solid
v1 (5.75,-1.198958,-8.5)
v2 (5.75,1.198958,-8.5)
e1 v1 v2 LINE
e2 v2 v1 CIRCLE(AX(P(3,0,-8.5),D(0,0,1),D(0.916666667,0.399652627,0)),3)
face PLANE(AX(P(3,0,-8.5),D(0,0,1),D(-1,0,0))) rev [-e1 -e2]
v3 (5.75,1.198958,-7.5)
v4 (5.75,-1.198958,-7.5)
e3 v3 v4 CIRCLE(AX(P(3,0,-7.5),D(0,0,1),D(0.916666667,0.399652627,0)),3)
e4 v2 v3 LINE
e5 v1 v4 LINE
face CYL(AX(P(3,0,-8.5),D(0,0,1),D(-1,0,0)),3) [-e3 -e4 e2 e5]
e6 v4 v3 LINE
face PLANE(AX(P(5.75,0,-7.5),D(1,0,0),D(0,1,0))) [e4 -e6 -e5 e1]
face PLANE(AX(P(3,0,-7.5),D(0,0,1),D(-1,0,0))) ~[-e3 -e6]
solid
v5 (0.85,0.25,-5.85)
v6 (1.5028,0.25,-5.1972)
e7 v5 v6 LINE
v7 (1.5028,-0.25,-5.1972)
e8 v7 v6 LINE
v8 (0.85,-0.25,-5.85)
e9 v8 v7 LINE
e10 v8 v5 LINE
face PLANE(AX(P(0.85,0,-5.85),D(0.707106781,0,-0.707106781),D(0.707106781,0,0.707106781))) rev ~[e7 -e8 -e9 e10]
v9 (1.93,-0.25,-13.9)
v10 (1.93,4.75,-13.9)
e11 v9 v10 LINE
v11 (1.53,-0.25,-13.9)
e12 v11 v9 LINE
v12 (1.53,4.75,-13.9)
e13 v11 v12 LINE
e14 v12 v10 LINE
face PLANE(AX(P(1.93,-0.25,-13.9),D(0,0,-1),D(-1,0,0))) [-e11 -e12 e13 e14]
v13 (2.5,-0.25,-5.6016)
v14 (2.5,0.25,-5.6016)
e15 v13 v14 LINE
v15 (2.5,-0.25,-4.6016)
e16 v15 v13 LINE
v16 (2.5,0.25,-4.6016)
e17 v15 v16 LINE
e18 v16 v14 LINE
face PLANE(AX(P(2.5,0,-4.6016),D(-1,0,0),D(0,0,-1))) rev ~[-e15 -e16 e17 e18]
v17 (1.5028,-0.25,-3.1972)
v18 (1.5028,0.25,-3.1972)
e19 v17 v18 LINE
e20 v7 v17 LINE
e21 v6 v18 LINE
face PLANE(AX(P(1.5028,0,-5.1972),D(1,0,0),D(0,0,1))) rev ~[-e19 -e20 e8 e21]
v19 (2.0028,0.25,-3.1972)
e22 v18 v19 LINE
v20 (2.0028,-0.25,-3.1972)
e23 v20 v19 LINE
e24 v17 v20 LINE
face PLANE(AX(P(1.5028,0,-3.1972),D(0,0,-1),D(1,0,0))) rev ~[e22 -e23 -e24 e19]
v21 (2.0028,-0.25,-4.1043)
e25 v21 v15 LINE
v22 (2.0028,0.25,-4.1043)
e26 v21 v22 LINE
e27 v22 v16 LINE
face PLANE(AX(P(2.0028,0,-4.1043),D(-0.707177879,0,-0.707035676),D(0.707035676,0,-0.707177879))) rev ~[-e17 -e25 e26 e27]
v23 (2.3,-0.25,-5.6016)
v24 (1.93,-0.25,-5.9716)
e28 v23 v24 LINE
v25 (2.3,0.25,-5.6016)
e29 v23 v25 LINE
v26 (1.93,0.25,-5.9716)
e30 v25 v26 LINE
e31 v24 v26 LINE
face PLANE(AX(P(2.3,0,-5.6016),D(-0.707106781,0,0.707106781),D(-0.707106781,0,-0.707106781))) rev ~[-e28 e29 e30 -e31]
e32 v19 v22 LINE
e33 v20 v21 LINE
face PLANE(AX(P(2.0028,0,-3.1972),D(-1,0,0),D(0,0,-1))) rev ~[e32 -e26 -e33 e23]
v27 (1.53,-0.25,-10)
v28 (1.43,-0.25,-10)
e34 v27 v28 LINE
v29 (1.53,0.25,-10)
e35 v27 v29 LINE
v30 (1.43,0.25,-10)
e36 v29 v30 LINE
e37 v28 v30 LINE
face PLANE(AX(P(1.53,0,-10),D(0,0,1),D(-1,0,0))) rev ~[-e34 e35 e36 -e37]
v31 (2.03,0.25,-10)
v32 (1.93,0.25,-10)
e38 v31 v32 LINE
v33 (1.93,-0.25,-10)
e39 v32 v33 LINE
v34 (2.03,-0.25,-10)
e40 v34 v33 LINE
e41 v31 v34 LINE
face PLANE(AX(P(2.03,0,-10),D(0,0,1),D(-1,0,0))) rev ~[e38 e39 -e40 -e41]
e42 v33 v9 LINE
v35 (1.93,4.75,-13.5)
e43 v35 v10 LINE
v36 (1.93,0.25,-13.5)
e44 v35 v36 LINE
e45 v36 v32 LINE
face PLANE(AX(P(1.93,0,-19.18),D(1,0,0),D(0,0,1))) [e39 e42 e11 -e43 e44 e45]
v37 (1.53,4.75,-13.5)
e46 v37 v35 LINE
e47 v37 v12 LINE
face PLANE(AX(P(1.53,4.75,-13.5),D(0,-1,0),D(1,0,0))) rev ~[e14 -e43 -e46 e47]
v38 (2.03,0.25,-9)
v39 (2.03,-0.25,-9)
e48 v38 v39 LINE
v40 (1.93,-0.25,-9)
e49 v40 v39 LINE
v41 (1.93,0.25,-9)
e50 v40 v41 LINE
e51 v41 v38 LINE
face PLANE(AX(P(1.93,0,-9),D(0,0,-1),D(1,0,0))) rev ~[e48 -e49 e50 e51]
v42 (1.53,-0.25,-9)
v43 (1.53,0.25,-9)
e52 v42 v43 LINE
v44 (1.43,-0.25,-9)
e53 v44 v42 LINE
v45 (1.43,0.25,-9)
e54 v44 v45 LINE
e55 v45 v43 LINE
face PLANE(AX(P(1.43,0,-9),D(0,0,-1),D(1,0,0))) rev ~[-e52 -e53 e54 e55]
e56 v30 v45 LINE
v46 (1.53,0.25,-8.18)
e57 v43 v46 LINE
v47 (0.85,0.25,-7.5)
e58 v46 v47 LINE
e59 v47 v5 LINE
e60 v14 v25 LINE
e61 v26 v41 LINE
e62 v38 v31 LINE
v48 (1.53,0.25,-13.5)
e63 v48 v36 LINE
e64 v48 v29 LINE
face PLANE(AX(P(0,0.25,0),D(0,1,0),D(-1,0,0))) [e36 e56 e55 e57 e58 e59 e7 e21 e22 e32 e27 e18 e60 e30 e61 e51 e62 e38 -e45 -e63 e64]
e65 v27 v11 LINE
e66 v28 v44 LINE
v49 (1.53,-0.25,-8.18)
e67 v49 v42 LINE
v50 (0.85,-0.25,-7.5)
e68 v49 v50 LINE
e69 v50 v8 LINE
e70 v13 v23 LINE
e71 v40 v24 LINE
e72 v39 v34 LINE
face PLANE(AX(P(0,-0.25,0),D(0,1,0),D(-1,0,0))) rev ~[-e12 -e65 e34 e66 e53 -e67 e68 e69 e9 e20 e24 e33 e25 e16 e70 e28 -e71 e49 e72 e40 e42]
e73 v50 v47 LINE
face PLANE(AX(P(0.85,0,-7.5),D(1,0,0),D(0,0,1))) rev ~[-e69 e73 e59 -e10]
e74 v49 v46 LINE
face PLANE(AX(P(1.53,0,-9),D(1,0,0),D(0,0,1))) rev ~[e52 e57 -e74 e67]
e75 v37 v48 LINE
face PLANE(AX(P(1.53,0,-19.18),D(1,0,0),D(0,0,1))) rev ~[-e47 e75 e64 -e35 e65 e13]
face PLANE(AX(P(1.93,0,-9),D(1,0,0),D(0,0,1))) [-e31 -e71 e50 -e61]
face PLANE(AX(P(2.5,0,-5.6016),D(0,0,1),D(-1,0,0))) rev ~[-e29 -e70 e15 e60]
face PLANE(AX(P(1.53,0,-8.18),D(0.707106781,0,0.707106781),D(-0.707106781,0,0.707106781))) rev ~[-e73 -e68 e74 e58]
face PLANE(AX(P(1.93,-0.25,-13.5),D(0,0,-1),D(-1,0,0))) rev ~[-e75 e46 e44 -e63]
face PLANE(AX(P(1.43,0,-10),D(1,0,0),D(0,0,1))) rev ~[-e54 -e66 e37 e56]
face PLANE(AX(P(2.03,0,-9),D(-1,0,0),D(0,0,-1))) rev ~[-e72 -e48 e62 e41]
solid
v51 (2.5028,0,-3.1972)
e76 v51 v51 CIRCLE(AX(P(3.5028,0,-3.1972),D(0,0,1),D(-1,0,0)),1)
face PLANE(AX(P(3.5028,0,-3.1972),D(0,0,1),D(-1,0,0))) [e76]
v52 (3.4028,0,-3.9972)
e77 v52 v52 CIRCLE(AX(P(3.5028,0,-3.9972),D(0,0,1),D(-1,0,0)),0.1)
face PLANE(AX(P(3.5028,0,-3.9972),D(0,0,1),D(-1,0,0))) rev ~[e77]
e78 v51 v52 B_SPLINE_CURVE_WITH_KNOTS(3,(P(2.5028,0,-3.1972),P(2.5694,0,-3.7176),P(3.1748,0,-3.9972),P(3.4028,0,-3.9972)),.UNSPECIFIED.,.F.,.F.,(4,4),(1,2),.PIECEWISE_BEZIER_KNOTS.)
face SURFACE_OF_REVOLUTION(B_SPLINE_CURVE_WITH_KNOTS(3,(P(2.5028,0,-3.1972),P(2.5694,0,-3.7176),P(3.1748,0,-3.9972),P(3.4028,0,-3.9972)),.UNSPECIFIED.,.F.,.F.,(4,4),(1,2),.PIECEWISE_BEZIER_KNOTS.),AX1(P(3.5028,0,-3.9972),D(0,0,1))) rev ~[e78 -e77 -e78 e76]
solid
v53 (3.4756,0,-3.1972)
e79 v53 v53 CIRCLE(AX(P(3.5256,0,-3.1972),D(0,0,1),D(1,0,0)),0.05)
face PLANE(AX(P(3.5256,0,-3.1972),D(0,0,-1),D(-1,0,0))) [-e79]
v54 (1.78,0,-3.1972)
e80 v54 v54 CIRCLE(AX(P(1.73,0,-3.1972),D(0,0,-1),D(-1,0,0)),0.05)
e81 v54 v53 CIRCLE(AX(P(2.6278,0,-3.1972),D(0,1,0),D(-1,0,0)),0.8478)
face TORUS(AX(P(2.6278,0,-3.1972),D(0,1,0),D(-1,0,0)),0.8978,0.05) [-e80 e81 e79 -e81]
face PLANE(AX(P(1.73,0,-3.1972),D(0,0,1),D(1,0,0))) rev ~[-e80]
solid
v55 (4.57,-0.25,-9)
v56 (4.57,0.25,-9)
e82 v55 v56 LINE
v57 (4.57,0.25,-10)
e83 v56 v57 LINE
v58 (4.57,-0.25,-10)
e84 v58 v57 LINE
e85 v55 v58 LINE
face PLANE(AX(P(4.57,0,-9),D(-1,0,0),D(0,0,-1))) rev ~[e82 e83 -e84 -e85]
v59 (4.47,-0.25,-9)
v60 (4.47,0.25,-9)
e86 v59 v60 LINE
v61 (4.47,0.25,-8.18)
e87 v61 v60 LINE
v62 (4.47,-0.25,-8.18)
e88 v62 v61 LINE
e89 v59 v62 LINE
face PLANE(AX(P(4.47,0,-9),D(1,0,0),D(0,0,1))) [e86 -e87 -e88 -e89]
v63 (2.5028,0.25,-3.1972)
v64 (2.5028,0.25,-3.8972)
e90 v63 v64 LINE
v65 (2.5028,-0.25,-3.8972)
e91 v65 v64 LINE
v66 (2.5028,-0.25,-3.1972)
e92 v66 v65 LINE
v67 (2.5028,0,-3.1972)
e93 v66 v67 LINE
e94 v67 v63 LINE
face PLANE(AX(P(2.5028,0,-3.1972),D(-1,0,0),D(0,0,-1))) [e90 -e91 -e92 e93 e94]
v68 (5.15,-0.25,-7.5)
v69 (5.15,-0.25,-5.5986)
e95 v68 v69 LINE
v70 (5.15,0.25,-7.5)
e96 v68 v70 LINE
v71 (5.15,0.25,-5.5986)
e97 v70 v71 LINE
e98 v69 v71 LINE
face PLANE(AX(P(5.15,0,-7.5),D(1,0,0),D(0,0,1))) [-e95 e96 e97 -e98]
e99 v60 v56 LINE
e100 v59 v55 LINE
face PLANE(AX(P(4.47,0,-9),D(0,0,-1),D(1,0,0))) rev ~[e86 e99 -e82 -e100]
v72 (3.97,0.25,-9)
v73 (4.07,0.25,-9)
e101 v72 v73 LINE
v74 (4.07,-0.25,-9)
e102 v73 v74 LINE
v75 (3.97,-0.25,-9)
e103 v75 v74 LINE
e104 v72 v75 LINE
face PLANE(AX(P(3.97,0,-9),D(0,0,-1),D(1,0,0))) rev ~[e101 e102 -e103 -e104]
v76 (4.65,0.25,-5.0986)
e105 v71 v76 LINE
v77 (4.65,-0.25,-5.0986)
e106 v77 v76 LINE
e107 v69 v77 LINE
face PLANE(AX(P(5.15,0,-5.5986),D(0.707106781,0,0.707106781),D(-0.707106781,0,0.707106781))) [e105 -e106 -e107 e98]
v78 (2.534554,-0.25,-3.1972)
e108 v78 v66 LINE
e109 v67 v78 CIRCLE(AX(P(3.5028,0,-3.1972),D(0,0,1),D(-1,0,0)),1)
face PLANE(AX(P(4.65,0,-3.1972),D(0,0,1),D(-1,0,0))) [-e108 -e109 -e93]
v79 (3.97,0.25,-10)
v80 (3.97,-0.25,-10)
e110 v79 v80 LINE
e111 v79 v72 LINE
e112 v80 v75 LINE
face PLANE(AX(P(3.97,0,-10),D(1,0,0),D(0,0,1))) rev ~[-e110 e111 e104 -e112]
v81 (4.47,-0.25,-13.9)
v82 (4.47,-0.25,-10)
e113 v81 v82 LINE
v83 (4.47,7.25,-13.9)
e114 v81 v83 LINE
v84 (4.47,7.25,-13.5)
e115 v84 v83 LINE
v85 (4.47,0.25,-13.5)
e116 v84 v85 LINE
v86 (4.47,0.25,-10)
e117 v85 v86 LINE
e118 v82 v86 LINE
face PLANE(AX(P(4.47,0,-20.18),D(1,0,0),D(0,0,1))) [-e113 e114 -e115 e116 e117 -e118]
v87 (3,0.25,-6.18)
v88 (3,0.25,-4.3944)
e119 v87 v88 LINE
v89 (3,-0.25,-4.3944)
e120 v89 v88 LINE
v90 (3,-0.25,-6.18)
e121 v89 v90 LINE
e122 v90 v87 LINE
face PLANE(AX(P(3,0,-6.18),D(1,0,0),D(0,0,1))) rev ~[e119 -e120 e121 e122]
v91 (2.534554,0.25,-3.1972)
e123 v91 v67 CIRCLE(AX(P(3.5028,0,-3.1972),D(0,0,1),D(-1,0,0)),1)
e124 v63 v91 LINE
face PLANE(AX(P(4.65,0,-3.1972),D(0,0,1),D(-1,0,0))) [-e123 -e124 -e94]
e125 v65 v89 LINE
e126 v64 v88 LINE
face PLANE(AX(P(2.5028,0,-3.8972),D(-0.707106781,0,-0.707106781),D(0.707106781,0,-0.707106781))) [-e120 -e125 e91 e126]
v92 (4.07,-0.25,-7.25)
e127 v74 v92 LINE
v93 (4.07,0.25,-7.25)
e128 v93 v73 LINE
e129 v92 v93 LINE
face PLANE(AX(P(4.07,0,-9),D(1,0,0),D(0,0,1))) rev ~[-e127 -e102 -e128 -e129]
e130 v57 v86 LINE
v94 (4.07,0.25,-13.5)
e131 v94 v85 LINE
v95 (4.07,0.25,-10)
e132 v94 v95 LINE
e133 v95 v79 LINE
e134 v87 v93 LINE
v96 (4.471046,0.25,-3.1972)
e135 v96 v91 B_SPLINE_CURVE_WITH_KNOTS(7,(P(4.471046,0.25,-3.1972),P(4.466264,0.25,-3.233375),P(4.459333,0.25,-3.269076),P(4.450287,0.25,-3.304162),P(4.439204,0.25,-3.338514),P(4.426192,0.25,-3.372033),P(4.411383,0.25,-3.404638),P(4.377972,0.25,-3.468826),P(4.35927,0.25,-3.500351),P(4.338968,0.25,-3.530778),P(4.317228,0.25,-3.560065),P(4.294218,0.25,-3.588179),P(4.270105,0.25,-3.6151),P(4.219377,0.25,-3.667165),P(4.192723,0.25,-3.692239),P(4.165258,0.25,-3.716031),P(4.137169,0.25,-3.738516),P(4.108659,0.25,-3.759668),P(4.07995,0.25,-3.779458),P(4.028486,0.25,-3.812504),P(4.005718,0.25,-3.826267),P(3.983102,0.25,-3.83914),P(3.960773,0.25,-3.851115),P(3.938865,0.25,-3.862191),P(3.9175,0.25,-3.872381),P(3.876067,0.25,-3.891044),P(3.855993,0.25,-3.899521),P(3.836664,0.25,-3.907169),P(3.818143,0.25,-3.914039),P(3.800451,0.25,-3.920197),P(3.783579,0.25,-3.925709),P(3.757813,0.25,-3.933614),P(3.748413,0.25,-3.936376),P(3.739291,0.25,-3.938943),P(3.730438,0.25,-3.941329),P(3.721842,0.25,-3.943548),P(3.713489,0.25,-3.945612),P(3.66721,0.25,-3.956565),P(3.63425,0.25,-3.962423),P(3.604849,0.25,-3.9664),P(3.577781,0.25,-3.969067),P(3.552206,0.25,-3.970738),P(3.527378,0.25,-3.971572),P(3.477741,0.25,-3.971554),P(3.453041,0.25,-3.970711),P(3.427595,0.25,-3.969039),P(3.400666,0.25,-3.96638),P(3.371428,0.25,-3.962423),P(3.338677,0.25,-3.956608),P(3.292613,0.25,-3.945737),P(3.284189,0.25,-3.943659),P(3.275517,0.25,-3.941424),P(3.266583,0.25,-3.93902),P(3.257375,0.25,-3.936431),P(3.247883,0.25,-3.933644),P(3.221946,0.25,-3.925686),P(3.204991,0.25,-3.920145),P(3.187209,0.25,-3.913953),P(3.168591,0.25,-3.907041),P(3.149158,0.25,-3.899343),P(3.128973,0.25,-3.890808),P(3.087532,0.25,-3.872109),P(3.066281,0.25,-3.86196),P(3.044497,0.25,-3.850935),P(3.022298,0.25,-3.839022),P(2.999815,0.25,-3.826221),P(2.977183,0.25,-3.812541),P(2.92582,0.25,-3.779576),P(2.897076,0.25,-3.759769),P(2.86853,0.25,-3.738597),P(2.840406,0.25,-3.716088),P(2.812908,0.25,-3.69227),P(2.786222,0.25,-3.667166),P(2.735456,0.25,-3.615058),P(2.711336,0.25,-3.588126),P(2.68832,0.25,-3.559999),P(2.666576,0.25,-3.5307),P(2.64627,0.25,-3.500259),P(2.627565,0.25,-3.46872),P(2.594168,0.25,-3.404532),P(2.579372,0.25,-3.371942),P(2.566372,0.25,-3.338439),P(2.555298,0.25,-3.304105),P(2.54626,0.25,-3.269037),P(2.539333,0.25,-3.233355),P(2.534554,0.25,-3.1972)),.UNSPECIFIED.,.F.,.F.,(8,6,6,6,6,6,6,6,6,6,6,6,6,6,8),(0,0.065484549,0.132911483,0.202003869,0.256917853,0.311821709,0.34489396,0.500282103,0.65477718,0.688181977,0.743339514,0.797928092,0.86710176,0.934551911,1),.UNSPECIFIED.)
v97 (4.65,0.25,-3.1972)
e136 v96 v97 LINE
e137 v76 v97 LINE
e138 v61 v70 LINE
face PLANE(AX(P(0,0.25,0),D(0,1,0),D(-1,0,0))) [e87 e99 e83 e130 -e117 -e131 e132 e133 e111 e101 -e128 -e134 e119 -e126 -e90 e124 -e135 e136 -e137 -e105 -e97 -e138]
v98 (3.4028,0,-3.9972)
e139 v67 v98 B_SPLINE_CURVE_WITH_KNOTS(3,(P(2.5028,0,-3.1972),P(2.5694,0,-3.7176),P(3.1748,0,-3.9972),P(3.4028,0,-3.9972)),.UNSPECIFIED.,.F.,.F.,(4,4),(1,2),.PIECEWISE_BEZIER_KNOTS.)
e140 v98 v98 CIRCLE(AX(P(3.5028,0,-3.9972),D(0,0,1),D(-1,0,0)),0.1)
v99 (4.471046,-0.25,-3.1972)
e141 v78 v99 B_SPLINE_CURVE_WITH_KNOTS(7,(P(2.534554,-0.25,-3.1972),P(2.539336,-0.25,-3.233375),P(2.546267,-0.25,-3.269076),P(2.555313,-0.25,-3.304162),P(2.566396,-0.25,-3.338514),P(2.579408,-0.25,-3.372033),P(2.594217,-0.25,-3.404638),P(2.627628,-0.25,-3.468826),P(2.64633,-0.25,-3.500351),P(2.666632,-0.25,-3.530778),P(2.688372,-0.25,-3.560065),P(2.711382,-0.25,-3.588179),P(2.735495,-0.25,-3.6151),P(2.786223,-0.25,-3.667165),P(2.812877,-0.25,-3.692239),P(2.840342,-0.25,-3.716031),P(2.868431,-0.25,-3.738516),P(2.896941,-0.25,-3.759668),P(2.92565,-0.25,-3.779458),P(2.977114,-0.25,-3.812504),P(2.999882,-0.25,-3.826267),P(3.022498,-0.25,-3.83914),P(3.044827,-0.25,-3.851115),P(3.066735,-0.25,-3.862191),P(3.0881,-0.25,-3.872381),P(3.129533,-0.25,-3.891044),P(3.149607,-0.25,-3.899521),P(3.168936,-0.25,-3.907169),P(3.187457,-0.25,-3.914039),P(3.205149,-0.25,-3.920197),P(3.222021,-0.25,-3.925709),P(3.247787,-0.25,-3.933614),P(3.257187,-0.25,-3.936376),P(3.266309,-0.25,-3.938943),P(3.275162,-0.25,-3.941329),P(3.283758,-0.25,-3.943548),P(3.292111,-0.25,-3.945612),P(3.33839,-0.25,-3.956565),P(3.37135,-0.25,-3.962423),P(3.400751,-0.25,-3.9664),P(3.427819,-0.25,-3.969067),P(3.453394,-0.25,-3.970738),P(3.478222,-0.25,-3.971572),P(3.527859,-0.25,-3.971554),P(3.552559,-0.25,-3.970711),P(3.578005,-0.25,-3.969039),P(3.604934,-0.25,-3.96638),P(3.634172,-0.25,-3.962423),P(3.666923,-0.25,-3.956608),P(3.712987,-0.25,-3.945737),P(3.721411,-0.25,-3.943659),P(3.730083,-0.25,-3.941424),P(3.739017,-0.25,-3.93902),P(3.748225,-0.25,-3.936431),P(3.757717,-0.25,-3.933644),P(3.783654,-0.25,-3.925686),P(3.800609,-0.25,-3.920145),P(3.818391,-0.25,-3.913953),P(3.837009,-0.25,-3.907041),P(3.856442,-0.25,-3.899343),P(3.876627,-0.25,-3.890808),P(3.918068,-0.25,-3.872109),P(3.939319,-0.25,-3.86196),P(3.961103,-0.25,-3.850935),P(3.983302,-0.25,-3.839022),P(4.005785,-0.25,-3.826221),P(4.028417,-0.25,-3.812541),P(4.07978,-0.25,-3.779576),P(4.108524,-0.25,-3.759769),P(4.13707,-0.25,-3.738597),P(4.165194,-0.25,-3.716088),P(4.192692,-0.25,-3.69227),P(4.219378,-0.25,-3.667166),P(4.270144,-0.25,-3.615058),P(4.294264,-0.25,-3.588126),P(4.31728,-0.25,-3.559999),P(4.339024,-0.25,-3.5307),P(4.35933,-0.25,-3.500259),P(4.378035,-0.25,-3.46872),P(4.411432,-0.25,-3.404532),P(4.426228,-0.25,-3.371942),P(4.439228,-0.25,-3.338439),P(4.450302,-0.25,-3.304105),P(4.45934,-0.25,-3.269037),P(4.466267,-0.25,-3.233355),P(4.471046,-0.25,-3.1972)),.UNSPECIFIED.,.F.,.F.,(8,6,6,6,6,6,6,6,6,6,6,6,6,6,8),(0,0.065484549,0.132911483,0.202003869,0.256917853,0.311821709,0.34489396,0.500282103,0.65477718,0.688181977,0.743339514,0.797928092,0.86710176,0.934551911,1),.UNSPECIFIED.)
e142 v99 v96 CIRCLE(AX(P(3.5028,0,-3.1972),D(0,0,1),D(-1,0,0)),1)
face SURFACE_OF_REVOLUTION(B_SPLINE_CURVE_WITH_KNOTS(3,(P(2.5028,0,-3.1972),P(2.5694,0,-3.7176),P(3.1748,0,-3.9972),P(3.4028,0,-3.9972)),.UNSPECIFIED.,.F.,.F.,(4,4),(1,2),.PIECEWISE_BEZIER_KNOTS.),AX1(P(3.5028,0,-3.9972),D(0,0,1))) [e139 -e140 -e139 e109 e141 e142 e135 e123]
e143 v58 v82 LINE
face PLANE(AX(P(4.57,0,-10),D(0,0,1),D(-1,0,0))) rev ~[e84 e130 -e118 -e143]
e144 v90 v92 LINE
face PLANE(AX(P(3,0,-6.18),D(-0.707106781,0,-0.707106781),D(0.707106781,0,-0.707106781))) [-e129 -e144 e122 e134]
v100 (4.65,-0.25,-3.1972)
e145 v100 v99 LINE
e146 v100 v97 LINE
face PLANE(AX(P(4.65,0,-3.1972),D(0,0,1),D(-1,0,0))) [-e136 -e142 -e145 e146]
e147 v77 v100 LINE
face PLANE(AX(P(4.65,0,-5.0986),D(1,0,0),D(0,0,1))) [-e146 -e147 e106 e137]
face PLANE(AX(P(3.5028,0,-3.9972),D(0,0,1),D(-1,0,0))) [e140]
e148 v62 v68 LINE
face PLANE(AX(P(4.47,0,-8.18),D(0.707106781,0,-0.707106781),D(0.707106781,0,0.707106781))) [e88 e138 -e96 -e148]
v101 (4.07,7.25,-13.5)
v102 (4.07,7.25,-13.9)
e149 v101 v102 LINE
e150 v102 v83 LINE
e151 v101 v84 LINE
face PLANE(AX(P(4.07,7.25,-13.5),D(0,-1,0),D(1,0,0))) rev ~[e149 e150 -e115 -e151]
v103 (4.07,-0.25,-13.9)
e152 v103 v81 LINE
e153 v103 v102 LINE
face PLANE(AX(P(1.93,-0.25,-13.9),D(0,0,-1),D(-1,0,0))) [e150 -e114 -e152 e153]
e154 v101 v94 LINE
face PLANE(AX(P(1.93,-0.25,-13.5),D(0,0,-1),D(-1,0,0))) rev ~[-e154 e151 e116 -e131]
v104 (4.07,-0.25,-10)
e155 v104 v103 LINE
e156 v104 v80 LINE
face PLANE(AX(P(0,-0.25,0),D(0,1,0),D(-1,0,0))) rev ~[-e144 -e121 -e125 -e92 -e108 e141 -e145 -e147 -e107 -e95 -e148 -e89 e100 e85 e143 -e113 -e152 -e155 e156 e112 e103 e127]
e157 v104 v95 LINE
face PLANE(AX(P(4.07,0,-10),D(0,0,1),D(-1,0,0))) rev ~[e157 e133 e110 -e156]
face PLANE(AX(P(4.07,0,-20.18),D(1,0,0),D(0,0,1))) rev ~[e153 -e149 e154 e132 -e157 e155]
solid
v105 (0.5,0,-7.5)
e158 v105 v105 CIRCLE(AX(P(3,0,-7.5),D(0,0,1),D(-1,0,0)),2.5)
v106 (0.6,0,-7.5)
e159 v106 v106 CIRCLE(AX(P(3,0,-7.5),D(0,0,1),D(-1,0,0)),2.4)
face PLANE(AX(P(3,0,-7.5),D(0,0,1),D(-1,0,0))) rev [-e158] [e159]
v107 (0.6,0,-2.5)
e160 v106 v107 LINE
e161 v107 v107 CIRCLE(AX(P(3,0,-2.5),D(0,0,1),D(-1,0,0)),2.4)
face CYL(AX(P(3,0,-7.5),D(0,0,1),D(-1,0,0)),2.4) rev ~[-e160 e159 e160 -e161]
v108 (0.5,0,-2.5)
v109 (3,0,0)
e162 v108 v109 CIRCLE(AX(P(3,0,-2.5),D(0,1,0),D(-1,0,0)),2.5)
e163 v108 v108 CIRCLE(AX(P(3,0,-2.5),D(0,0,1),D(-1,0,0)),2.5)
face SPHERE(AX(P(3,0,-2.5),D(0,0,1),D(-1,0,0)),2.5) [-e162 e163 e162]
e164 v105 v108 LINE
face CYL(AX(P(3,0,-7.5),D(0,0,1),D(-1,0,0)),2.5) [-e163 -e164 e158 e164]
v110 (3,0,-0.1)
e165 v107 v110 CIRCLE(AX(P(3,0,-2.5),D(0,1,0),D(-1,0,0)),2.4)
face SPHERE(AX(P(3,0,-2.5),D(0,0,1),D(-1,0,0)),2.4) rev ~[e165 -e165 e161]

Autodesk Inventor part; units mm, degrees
ref_plane "YZ Plane" through (0, 0, 0) normal (1, 0, 0) x (0, 1, 0)
ref_plane "XZ Plane" through (0, 0, 0) normal (0, 1, 0) x (-1, 0, 0)
ref_plane "XY Plane" through (0, 0, 0) normal (0, 0, 1) x (1, 0, 0)
sketch "Sketch1" plane through (0, 0, 0) normal (0, 1, 0) x (-1, 0, 0)
  line L0 (-1.93, -19.18) -> (-1.53, -19.18)
  line L1 (-4.47, -20.18) -> (-4.07, -20.18)
  line L2 (-0.5, -2.5) -> (-5.5, -2.5) construction
  line L3 (-5.5, -2.5) -> (-5.5, -7.5)
  line L4 (-5.5, -7.5) -> (-0.5, -7.5)
  line L5 (-0.5, -7.5) -> (-0.5, -2.5)
  line L6 (0, -7.5) -> (-6, -7.5)
  line L7 (-6, -7.5) -> (-6, -8.5)
  line L8 (-6, -8.5) -> (0, -8.5)
  line L9 (0, -8.5) -> (0, -7.5)
  arc A0 (-0.5, -2.5) -> (-5.5, -2.5) centre (-3, -2.5) ccw
  line L10 (0, -24.216) -> (0, 4.0361) projected
  line L11 (17.1925, 0) -> (-9.8654, 0) projected
  line L12 (-3, -8.5) -> (-3, -19.8408) construction
  line L13 (-1.53, -19.18) -> (-1.53, -10)
  line L14 (-1.93, -19.18) -> (-1.93, -10)
  line L15 (-4.07, -20.18) -> (-4.07, -10)
  line L16 (-4.47, -20.18) -> (-4.47, -10)
  line L17 (-3, -8.5) -> (-3, 0)
  line L18 (-6, -19.8408) -> (0, -19.8408) construction
  line L19 (-1.43, -9) -> (-1.53, -9)
  line L20 (-2.03, -9) -> (-2.03, -10)
  line L21 (-2.03, -10) -> (-1.93, -10)
  line L22 (-1.43, -10) -> (-1.43, -9)
  line L23 (-3.97, -9) -> (-4.07, -9)
  line L24 (-4.57, -9) -> (-4.57, -10)
  line L25 (-4.57, -10) -> (-4.47, -10)
  line L26 (-3.97, -10) -> (-3.97, -9)
  line L27 (-1.93, -9) -> (-2.03, -9)
  line L28 (-4.07, -9) -> (-4.07, -7.25)
  line L29 (-4.47, -9) -> (-4.57, -9)
  line L30 (-4.07, -10) -> (-3.97, -10)
  line L31 (-1.53, -10) -> (-1.43, -10)
  line L32 (-4.47, -9) -> (-4.47, -8.18)
  line L33 (-1.93, -9) -> (-1.93, -5.9716)
  line L34 (-1.53, -9) -> (-1.53, -8.18)
  line L35 (-4.47, -8.18) -> (-5.15, -7.5)
  line L36 (-1.53, -8.18) -> (-0.85, -7.5)
  line L37 (-0.85, -7.5) -> (-0.85, -5.85)
  line L38 (-5.15, -7.5) -> (-5.15, -5.5986)
  line L39 (-5.15, -5.5986) -> (-4.65, -5.0986)
  line L40 (-4.65, -5.0986) -> (-4.65, -3.1972)
  line L41 (-4.65, -3.1972) -> (-2.5028, -3.1972)
  line L42 (-0.85, -5.85) -> (-1.5028, -5.1972)
  line L43 (-1.5028, -5.1972) -> (-1.5028, -3.1972)
  line L44 (-1.5028, -3.1972) -> (-2.0028, -3.1972)
  line L45 (-2.0028, -3.1972) -> (-2.0028, -4.1043)
  line L46 (-2.0028, -4.1043) -> (-2.5, -4.6016)
  line L47 (-2.5, -4.6016) -> (-2.5, -5.6016)
  line L48 (-2.5, -5.6016) -> (-2.3, -5.6016)
  line L49 (-2.3, -5.6016) -> (-1.93, -5.9716)
  line L50 (8.8309, -12.5892) -> (8.8309, -17.0713)
  line L51 (8.7309, -12.5892) -> (8.8309, -12.5892)
  line L52 (8.8309, -17.0713) -> (9.3309, -17.0713)
  line L53 (9.3309, -17.0713) -> (9.3309, -12.5892)
  line L54 (11.3309, -18.2444) -> (11.8309, -18.2444)
  line L55 (11.3309, -12.5815) -> (11.3309, -18.2444)
  line L56 (11.8309, -18.2444) -> (11.8309, -12.5815)
  line L57 (8.2266, -6.0537) -> (8.2266, -7.4999)
  line L58 (8.5861, -5.6941) -> (8.2266, -6.0537)
  line L59 (8.5861, -4.3452) -> (8.5861, -5.6941)
  line L60 (8.2266, -7.4999) -> (8.8309, -8.1043)
  line L61 (9.3309, -7.3282) -> (9.7365, -6.9226)
  line L62 (9.7365, -6.9226) -> (10.3309, -6.9226)
  line L63 (10.3309, -6.9226) -> (10.3309, -5.844)
  line L64 (8.5861, -4.3452) -> (11.2106, -4.3452)
  line L65 (10.8309, -6.0512) -> (10.8309, -6.9149)
  line L66 (10.8309, -6.9149) -> (11.1527, -6.9149)
  line L67 (11.2393, -4.3452) -> (11.2106, -4.3452)
  line L68 (11.1527, -6.9149) -> (11.3309, -7.0932)
  line L69 (11.8309, -8.0966) -> (12.4276, -7.4999)
  line L70 (12.4276, -7.4999) -> (12.4276, -5.8553)
  line L71 (9.4309, -11.5892) -> (9.3309, -11.5892)
  line L72 (11.8309, -11.5815) -> (11.8309, -8.0966)
  line L73 (8.8309, -8.1043) -> (8.8309, -11.5892)
  line L74 (11.3309, -7.0932) -> (11.3309, -11.5815)
  line L75 (9.3309, -11.5892) -> (9.3309, -7.3282)
  line L76 (10.3309, -5.844) -> (11.2106, -4.9643)
  line L77 (11.7107, -5.1714) -> (10.8309, -6.0512)
  line L78 (11.2106, -4.3452) -> (11.2393, -4.3452) construction
  line L79 (12.4276, -5.8553) -> (12.2082, -5.6359)
  line L80 (11.2106, -4.2719) -> (11.2106, -4.3452)
  line L81 (11.2106, -4.9643) -> (11.2106, -4.2719)
  line L82 (11.2106, -4.2719) -> (11.2393, -4.3452)
  line L83 (11.7107, -4.3453) -> (11.7107, -5.1714)
  line L84 (10.8445, -3.7709) -> (11.3445, -3.7709) construction
  spline S0 degree 3 poles (11.9954, -4.3997) (11.9862, -4.3486) (11.9578, -4.2521) (11.8889, -4.1254) (11.7974, -4.0171) (11.6749, -3.9177) (11.5186, -3.8358) (11.3301, -3.782) (11.1322, -3.7647) (10.9338, -3.7851) (10.7437, -3.8443) (10.5851, -3.9352) (10.4598, -4.0478) (10.3654, -4.1727) (10.2931, -4.3216) (10.262, -4.4371) (10.2513, -4.4991) knots 0 0 0 0 0.0625 0.125 0.1875 0.25 0.333333 0.416667 0.5 0.583333 0.666667 0.75 0.8125 0.875 0.9375 1 1 1 1
  line L85 (12.2082, -4.3453) -> (11.7107, -4.3453)
  line L86 (12.2082, -5.6359) -> (12.2082, -4.3453)
  line L87 (9.3309, -12.5892) -> (9.4309, -12.5892)
  line L88 (11.2309, -12.5815) -> (11.3309, -12.5815)
  line L89 (11.8309, -12.5815) -> (11.9309, -12.5815)
  line L90 (8.7309, -11.5892) -> (8.7309, -12.5892)
  line L91 (8.8309, -11.5892) -> (8.7309, -11.5892)
  line L92 (9.4309, -12.5892) -> (9.4309, -11.5892)
  line L93 (11.3309, -11.5815) -> (11.2309, -11.5815)
  line L94 (11.2309, -11.5815) -> (11.2309, -12.5815)
  line L95 (11.9309, -12.5815) -> (11.9309, -11.5815)
  line L96 (11.9309, -11.5815) -> (11.8309, -11.5815)
  line L97 (13.3271, -7.4999) -> (7.3271, -7.4999)
  line L98 (7.3271, -7.4999) -> (7.3271, -8.4999)
  line L99 (7.3271, -8.4999) -> (13.3271, -8.4999)
  line L100 (13.3271, -8.4999) -> (13.3271, -7.4999)
  line L101 (12.4276, -7.4999) -> (8.2266, -7.4999)
  line L102 (12.8271, -7.4999) -> (7.8271, -7.4999)
  line L103 (7.8271, -7.4999) -> (7.8271, -2.4999)
  line L104 (7.8271, -2.4999) -> (12.8271, -2.4999) construction
  line L105 (12.8271, -2.4999) -> (12.8271, -7.4999)
  arc A1 (12.8271, -2.4999) -> (7.8271, -2.4999) centre (10.3271, -2.4999) ccw
  line L106 (-2.5028, -3.1972) -> (-2.5028, -3.8972)
  line L107 (-2.5028, -3.8972) -> (-3, -4.3944)
  line L108 (-3, -4.3944) -> (-3, -5.9975)
  line L109 (-3, -6.18) -> (-4.07, -7.25)
  line L110 (-2.5028, -3.1972) -> (-2.0028, -3.1972) construction
  line L111 (-2.5, -5.6016) -> (-3, -5.9975) construction
  point P0 (0, 0)
  point P1 (-3, -7.5)
  point P2 (0, -8)
  point P3 (-1.73, -19.18)
  point P4 (-4.27, -20.18)
  point P5 (-3, -7.5)
  point P6 (0, 0)
  point P7 (7.8271, -7.4999)
  point P8 (10.3271, -7.4999)
  point P9 (-3, -5.196)
  point P10 (-3, -4.3944)
  point P11 (-3, -3.1972)
  dimension "d10" = 5
  dimension "d12" = 6
  dimension "d13" = 5
  dimension "d14" = 6
  dimension "Jarak_Kaki" = 2.54
  dimension "d18" = 1
  dimension "d19" = 0.4
  dimension "d20" = 1.27
  dimension "Panjang_Kaki" = 12
  dimension "d30" = 0.6
  dimension "d31" = 1
  dimension "d32" = 0.5
  dimension "d34" = 135
  dimension "d35" = 0.35
  dimension "d51" = 0.5
  dimension "d76" = 1.65
  dimension "d82" = 2.5
  dimension "d83" = 0.5
  dimension "d84" = 0.5
  dimension "d85" = 1
  dimension "d86" = 0.5
  dimension "d87" = 0.5
  dimension "d89" = 0.7
  dimension "d92" = 0.5
  dimension "d93" = 0.25
  dimension "d95" = 1
  dimension "d104" = 0.2
  dimension "d106" = 2
revolve "Revolution1" add sketch "Sketch1" angle 360 about axis through (3, 0, -8.5) along (0, 0, 1) contours L33 L49 L48 L47 L46 L45 L44 L43 L42 L37 L4 | L4 L17 L107 L106 L41 A0 L5 L37 L42 L43 L44 L45 L46 L47 L48 L49 L33 | L17 L41 L106 L107
shell "Shell1" thickness 0.1 removed faces 1 at (3.6238, -0.5526, -7.5)
revolve "Revolution2" add sketch "Sketch1" angle 360 about axis through (3, 0, -8.5) along (0, 0, 1) separate body contours L33 L4 L36 L34 L8 | L8 L17 L4 L33 | L34 L36 L4 L6 L9 L8
sketch "Sketch2" plane through (3, 0, -7.5) normal (0, 0, 1) x (1, 0, 0)
  line L0 (2.75, 2.5) -> (3.75, 2.5)
  line L1 (3.75, 2.5) -> (3.75, -2.5)
  line L2 (3.75, -2.5) -> (2.75, -2.5)
  line L3 (2.75, -2.5) -> (2.75, 2.5)
  circle A0 centre (0, 0) radius 2.5 projected
  circle A1 centre (0, 0) radius 2.5 projected
  line L4 (-3, -4.2) -> (-3, 4.2) construction
  line L5 (2.5, -1.6681) -> (2.5, 1.3873) construction
  line L6 (-4.368, 0) -> (5.2078, 0) projected
  point P0 (-3, 0)
  point P1 (2.75, 0)
  dimension "d110" = 0.25
  dimension "d111" = 5
  dimension "d112" = 1
extrude "Extrusion1" cut sketch "Sketch2" against normal up to next contours L0 L1 L6 L3 | L6 L1 L2 L3 bodies 2
extrude "Extrusion2" add sketch "Sketch1" along normal mid plane 0.5 separate body contours L14 L21 L20 L27 L33 L8 L34 L19 L22 L31 L13 L0 | L33 L4 L36 L34 L8 | L33 L49 L48 L47 L46 L45 L44 L43 L42 L37 L4 | L28 L23 L26 L30 L15 L1 L16 L25 L24 L29 L32 L8 | L8 L32 L35 L4 L28 | L4 L38 L39 L40 L41 L17 L109 L28 | L17 L41 L106 L107
sketch "Sketch3" plane through (2.4, 0, -4) normal (0, 1, 0) x (1, 0, 0)
  line L0 (0.1028, -0.1028) -> (0.1028, -0.8028) projected
  line L1 (0.1028, -0.8028) -> (0.1694, -0.2824) construction
  line L2 (0.1694, -0.2824) -> (0.7748, -0.0028) construction
  line L3 (0.7748, -0.0028) -> (1.0028, -0.0028) construction
  spline S0 degree 3 poles (0.1028, -0.8028) (0.1694, -0.2824) (0.7748, -0.0028) (1.0028, -0.0028) knots 1 1 1 1 2 2 2 2
  line L4 (0.1028, -0.8028) -> (2.25, -0.8028) projected
  line L5 (1.0028, -0.0028) -> (1.1028, -0.0028)
  line L6 (1.1028, -0.0028) -> (1.1028, -0.8028)
  dimension "d99" = 0.8
  dimension "d100" = 0.9
  dimension "d101" = 0.1
revolve "Revolution3" cut sketch "Sketch3" angle 360 about axis through (3.5028, 0, -3.9972) along (0, 0, 1) bodies 3
revolve "Revolution4" add sketch "Sketch3" angle 360 about axis through (3.5028, 0, -3.9972) along (0, 0, 1) separate body
sketch "Sketch4" plane through (3.5028, 0, -3.1972) normal (0, 0, 1) x (1, 0, 0)
  circle A0 centre (-1.7728, 0) radius 0.05
  line L0 (-2, -0.25) -> (-2, 0.25) construction
  line L1 (-2, 0.25) -> (-1.5, 0.25) construction
  line L2 (-1.5728, 0.25) -> (-1.9728, 0.25) construction
  line L3 (-2, 0) -> (-1.7728, 0) construction
  line L4 (-1.7728, 0) -> (-1.7728, 0.25) construction
  line L5 (-1.7728, 0.25) -> (-2, 0.25) construction
  line L6 (-2, 0.25) -> (-2, 0) construction
  circle A1 centre (0, 0) radius 0.05
  point P0 (-3.5028, 0)
  dimension "d109" = 0.1
sketch "Sketch5" plane through (0, 0, 0) normal (0, 1, 0) x (-1, 0, 0)
  line L0 (-5.5, -2.5) -> (-0.5, -2.5) construction
  line L1 (-5.5, -7.5) -> (-0.5, -7.5) construction
  line L2 (-1.5028, -3.1972) -> (-2.0028, -3.1972) construction
  line L3 (-4.5028, -3.1972) -> (-2.5028, -3.1972) construction
  line L4 (-1.7528, -3.1972) -> (-3.5028, -3.1972) construction
  arc A0 (-1.7528, -3.1972) -> (-3.5028, -3.1972) centre (-2.6278, -3.1972) ccw
  point P0 (0, 0)
sweep "Sweep1" add profiles "Sketch4" path "Sketch5" separate body contours A0
sketch "Sketch8" plane through (0, -0.25, 0) normal (0, -1, 0) x (1, 0, 0)
  line L0 (0.7902, -13.5) -> (7.3811, -13.5)
  arc A0 (5.4875, -2.5) -> (0.5125, -2.5) centre (3, -2.5) ccw projected
  line L1 (5.4875, -2.5) -> (5.4875, -7.5) projected
  line L2 (5.4875, -7.5) -> (5.3869, -7.5) projected
  line L3 (5.3869, -7.5) -> (5.3869, -2.5) projected
  arc A1 (5.3869, -2.5) -> (0.6131, -2.5) centre (3, -2.5) ccw projected
  line L4 (0.6131, -2.5) -> (0.6131, -7.5) projected
  line L5 (0.6131, -7.5) -> (0.5125, -7.5) projected
  line L6 (0.5125, -7.5) -> (0.5125, -2.5) projected
  line L7 (5.75, -7.5) -> (5.75, -8.5) projected
  line L8 (5.75, -8.5) -> (0.0104, -8.5) projected
  line L9 (0.0104, -8.5) -> (0.0104, -7.5) projected
  line L10 (0.0104, -7.5) -> (5.75, -7.5) projected
  line L11 (1.93, -5.9716) -> (1.93, -9) projected
  line L12 (1.93, -9) -> (2.03, -9) projected
  line L13 (2.03, -9) -> (2.03, -10) projected
  line L14 (2.03, -10) -> (1.93, -10) projected
  line L15 (1.93, -10) -> (1.93, -19.18) projected
  line L16 (1.93, -19.18) -> (1.53, -19.18) projected
  line L17 (1.53, -19.18) -> (1.53, -10) projected
  line L18 (1.53, -10) -> (1.43, -10) projected
  line L19 (1.43, -10) -> (1.43, -9) projected
  line L20 (1.43, -9) -> (1.53, -9) projected
  line L21 (1.53, -9) -> (1.53, -8.18) projected
  line L22 (1.53, -8.18) -> (0.85, -7.5) projected
  line L23 (0.85, -7.5) -> (0.85, -5.85) projected
  line L24 (0.85, -5.85) -> (1.5028, -5.1972) projected
  line L25 (1.5028, -5.1972) -> (1.5028, -3.1972) projected
  line L26 (1.5028, -3.1972) -> (2.0028, -3.1972) projected
  line L27 (2.0028, -3.1972) -> (2.0028, -4.1043) projected
  line L28 (2.0028, -4.1043) -> (2.5, -4.6016) projected
  line L29 (2.5, -4.6016) -> (2.5, -5.6016) projected
  line L30 (2.5, -5.6016) -> (2.3, -5.6016) projected
  line L31 (2.3, -5.6016) -> (1.93, -5.9716) projected
  line L32 (4.471, -3.1972) -> (4.65, -3.1972) projected
  line L33 (4.65, -3.1972) -> (4.65, -5.0986) projected
  line L34 (4.65, -5.0986) -> (5.15, -5.5986) projected
  line L35 (5.15, -5.5986) -> (5.15, -7.5) projected
  line L36 (5.15, -7.5) -> (4.47, -8.18) projected
  line L37 (4.47, -8.18) -> (4.47, -9) projected
  line L38 (4.47, -9) -> (4.57, -9) projected
  line L39 (4.57, -9) -> (4.57, -10) projected
  line L40 (4.57, -10) -> (4.47, -10) projected
  line L41 (4.47, -10) -> (4.47, -20.18) projected
  line L42 (4.47, -20.18) -> (4.07, -20.18) projected
  line L43 (4.07, -20.18) -> (4.07, -10) projected
  line L44 (4.07, -10) -> (3.97, -10) projected
  line L45 (3.97, -10) -> (3.97, -9) projected
  line L46 (3.97, -9) -> (4.07, -9) projected
  line L47 (4.07, -9) -> (4.07, -7.25) projected
  line L48 (4.07, -7.25) -> (3, -6.18) projected
  line L49 (3, -6.18) -> (3, -4.3944) projected
  line L50 (3, -4.3944) -> (2.5028, -3.8972) projected
  line L51 (2.5028, -3.8972) -> (2.5028, -3.1972) projected
  line L52 (2.5028, -3.1972) -> (2.5345, -3.1972) projected
  line L53 (2.5345, -3.1972) -> (4.471, -3.1972) projected
  point P0 (0, 0)
  point P1 (4.47, -13.5)
  point P2 (4.07, -13.5)
  point P3 (1.93, -13.5)
  point P4 (1.53, -13.5)
  dimension "d117" = 5
extrude "Extrusion3" cut sketch "Sketch8" against normal up to surface (0.5 mm away) contours L0 L15 L16 L17 | L0 L41 L42 L43 bodies 3
sketch "Sketch9" plane through (1.93, -0.25, -13.5) normal (0, 0, -1) x (-1, 0, 0)
  line L0 (-2.54, 0.5) -> (-2.14, 0.5) projected
  line L1 (-2.14, 0.5) -> (-2.14, 0) projected
  line L2 (-2.14, 0) -> (-2.54, 0) projected
  line L3 (-2.54, 0) -> (-2.54, 0.5) projected
  line L4 (0, 0.5) -> (0.4, 0.5) projected
  line L5 (0.4, 0.5) -> (0.4, 0) projected
  line L6 (0.4, 0) -> (0, 0) projected
  line L7 (0, 0) -> (0, 0.5) projected
  line L8 (0, 0) -> (0.4, 0)
  line L9 (0.4, 0) -> (0.4, 5)
  line L10 (0.4, 5) -> (0, 5)
  line L11 (0, 5) -> (0, 0)
  line L12 (-2.54, 0) -> (-2.14, 0)
  line L13 (-2.14, 0) -> (-2.14, 7.5)
  line L14 (-2.14, 7.5) -> (-2.54, 7.5)
  line L15 (-2.54, 7.5) -> (-2.54, 0)
  point P0 (1.93, 0.25)
  dimension "d120" = 0.4
  dimension "d121" = 5
  dimension "d122" = 0.4
  dimension "d123" = 7.5
extrude "Extrusion4" add sketch "Sketch9" along normal blind 0.4 bodies 3
equation "\"d10\" = Diameter_Led"
equation "\"d13\" = Diameter_Led"
equation "\"d20\" = 0.5 * Jarak_Kaki"
equation "\"Diameter_Led\" = 5"
properties part number "LED - red"
